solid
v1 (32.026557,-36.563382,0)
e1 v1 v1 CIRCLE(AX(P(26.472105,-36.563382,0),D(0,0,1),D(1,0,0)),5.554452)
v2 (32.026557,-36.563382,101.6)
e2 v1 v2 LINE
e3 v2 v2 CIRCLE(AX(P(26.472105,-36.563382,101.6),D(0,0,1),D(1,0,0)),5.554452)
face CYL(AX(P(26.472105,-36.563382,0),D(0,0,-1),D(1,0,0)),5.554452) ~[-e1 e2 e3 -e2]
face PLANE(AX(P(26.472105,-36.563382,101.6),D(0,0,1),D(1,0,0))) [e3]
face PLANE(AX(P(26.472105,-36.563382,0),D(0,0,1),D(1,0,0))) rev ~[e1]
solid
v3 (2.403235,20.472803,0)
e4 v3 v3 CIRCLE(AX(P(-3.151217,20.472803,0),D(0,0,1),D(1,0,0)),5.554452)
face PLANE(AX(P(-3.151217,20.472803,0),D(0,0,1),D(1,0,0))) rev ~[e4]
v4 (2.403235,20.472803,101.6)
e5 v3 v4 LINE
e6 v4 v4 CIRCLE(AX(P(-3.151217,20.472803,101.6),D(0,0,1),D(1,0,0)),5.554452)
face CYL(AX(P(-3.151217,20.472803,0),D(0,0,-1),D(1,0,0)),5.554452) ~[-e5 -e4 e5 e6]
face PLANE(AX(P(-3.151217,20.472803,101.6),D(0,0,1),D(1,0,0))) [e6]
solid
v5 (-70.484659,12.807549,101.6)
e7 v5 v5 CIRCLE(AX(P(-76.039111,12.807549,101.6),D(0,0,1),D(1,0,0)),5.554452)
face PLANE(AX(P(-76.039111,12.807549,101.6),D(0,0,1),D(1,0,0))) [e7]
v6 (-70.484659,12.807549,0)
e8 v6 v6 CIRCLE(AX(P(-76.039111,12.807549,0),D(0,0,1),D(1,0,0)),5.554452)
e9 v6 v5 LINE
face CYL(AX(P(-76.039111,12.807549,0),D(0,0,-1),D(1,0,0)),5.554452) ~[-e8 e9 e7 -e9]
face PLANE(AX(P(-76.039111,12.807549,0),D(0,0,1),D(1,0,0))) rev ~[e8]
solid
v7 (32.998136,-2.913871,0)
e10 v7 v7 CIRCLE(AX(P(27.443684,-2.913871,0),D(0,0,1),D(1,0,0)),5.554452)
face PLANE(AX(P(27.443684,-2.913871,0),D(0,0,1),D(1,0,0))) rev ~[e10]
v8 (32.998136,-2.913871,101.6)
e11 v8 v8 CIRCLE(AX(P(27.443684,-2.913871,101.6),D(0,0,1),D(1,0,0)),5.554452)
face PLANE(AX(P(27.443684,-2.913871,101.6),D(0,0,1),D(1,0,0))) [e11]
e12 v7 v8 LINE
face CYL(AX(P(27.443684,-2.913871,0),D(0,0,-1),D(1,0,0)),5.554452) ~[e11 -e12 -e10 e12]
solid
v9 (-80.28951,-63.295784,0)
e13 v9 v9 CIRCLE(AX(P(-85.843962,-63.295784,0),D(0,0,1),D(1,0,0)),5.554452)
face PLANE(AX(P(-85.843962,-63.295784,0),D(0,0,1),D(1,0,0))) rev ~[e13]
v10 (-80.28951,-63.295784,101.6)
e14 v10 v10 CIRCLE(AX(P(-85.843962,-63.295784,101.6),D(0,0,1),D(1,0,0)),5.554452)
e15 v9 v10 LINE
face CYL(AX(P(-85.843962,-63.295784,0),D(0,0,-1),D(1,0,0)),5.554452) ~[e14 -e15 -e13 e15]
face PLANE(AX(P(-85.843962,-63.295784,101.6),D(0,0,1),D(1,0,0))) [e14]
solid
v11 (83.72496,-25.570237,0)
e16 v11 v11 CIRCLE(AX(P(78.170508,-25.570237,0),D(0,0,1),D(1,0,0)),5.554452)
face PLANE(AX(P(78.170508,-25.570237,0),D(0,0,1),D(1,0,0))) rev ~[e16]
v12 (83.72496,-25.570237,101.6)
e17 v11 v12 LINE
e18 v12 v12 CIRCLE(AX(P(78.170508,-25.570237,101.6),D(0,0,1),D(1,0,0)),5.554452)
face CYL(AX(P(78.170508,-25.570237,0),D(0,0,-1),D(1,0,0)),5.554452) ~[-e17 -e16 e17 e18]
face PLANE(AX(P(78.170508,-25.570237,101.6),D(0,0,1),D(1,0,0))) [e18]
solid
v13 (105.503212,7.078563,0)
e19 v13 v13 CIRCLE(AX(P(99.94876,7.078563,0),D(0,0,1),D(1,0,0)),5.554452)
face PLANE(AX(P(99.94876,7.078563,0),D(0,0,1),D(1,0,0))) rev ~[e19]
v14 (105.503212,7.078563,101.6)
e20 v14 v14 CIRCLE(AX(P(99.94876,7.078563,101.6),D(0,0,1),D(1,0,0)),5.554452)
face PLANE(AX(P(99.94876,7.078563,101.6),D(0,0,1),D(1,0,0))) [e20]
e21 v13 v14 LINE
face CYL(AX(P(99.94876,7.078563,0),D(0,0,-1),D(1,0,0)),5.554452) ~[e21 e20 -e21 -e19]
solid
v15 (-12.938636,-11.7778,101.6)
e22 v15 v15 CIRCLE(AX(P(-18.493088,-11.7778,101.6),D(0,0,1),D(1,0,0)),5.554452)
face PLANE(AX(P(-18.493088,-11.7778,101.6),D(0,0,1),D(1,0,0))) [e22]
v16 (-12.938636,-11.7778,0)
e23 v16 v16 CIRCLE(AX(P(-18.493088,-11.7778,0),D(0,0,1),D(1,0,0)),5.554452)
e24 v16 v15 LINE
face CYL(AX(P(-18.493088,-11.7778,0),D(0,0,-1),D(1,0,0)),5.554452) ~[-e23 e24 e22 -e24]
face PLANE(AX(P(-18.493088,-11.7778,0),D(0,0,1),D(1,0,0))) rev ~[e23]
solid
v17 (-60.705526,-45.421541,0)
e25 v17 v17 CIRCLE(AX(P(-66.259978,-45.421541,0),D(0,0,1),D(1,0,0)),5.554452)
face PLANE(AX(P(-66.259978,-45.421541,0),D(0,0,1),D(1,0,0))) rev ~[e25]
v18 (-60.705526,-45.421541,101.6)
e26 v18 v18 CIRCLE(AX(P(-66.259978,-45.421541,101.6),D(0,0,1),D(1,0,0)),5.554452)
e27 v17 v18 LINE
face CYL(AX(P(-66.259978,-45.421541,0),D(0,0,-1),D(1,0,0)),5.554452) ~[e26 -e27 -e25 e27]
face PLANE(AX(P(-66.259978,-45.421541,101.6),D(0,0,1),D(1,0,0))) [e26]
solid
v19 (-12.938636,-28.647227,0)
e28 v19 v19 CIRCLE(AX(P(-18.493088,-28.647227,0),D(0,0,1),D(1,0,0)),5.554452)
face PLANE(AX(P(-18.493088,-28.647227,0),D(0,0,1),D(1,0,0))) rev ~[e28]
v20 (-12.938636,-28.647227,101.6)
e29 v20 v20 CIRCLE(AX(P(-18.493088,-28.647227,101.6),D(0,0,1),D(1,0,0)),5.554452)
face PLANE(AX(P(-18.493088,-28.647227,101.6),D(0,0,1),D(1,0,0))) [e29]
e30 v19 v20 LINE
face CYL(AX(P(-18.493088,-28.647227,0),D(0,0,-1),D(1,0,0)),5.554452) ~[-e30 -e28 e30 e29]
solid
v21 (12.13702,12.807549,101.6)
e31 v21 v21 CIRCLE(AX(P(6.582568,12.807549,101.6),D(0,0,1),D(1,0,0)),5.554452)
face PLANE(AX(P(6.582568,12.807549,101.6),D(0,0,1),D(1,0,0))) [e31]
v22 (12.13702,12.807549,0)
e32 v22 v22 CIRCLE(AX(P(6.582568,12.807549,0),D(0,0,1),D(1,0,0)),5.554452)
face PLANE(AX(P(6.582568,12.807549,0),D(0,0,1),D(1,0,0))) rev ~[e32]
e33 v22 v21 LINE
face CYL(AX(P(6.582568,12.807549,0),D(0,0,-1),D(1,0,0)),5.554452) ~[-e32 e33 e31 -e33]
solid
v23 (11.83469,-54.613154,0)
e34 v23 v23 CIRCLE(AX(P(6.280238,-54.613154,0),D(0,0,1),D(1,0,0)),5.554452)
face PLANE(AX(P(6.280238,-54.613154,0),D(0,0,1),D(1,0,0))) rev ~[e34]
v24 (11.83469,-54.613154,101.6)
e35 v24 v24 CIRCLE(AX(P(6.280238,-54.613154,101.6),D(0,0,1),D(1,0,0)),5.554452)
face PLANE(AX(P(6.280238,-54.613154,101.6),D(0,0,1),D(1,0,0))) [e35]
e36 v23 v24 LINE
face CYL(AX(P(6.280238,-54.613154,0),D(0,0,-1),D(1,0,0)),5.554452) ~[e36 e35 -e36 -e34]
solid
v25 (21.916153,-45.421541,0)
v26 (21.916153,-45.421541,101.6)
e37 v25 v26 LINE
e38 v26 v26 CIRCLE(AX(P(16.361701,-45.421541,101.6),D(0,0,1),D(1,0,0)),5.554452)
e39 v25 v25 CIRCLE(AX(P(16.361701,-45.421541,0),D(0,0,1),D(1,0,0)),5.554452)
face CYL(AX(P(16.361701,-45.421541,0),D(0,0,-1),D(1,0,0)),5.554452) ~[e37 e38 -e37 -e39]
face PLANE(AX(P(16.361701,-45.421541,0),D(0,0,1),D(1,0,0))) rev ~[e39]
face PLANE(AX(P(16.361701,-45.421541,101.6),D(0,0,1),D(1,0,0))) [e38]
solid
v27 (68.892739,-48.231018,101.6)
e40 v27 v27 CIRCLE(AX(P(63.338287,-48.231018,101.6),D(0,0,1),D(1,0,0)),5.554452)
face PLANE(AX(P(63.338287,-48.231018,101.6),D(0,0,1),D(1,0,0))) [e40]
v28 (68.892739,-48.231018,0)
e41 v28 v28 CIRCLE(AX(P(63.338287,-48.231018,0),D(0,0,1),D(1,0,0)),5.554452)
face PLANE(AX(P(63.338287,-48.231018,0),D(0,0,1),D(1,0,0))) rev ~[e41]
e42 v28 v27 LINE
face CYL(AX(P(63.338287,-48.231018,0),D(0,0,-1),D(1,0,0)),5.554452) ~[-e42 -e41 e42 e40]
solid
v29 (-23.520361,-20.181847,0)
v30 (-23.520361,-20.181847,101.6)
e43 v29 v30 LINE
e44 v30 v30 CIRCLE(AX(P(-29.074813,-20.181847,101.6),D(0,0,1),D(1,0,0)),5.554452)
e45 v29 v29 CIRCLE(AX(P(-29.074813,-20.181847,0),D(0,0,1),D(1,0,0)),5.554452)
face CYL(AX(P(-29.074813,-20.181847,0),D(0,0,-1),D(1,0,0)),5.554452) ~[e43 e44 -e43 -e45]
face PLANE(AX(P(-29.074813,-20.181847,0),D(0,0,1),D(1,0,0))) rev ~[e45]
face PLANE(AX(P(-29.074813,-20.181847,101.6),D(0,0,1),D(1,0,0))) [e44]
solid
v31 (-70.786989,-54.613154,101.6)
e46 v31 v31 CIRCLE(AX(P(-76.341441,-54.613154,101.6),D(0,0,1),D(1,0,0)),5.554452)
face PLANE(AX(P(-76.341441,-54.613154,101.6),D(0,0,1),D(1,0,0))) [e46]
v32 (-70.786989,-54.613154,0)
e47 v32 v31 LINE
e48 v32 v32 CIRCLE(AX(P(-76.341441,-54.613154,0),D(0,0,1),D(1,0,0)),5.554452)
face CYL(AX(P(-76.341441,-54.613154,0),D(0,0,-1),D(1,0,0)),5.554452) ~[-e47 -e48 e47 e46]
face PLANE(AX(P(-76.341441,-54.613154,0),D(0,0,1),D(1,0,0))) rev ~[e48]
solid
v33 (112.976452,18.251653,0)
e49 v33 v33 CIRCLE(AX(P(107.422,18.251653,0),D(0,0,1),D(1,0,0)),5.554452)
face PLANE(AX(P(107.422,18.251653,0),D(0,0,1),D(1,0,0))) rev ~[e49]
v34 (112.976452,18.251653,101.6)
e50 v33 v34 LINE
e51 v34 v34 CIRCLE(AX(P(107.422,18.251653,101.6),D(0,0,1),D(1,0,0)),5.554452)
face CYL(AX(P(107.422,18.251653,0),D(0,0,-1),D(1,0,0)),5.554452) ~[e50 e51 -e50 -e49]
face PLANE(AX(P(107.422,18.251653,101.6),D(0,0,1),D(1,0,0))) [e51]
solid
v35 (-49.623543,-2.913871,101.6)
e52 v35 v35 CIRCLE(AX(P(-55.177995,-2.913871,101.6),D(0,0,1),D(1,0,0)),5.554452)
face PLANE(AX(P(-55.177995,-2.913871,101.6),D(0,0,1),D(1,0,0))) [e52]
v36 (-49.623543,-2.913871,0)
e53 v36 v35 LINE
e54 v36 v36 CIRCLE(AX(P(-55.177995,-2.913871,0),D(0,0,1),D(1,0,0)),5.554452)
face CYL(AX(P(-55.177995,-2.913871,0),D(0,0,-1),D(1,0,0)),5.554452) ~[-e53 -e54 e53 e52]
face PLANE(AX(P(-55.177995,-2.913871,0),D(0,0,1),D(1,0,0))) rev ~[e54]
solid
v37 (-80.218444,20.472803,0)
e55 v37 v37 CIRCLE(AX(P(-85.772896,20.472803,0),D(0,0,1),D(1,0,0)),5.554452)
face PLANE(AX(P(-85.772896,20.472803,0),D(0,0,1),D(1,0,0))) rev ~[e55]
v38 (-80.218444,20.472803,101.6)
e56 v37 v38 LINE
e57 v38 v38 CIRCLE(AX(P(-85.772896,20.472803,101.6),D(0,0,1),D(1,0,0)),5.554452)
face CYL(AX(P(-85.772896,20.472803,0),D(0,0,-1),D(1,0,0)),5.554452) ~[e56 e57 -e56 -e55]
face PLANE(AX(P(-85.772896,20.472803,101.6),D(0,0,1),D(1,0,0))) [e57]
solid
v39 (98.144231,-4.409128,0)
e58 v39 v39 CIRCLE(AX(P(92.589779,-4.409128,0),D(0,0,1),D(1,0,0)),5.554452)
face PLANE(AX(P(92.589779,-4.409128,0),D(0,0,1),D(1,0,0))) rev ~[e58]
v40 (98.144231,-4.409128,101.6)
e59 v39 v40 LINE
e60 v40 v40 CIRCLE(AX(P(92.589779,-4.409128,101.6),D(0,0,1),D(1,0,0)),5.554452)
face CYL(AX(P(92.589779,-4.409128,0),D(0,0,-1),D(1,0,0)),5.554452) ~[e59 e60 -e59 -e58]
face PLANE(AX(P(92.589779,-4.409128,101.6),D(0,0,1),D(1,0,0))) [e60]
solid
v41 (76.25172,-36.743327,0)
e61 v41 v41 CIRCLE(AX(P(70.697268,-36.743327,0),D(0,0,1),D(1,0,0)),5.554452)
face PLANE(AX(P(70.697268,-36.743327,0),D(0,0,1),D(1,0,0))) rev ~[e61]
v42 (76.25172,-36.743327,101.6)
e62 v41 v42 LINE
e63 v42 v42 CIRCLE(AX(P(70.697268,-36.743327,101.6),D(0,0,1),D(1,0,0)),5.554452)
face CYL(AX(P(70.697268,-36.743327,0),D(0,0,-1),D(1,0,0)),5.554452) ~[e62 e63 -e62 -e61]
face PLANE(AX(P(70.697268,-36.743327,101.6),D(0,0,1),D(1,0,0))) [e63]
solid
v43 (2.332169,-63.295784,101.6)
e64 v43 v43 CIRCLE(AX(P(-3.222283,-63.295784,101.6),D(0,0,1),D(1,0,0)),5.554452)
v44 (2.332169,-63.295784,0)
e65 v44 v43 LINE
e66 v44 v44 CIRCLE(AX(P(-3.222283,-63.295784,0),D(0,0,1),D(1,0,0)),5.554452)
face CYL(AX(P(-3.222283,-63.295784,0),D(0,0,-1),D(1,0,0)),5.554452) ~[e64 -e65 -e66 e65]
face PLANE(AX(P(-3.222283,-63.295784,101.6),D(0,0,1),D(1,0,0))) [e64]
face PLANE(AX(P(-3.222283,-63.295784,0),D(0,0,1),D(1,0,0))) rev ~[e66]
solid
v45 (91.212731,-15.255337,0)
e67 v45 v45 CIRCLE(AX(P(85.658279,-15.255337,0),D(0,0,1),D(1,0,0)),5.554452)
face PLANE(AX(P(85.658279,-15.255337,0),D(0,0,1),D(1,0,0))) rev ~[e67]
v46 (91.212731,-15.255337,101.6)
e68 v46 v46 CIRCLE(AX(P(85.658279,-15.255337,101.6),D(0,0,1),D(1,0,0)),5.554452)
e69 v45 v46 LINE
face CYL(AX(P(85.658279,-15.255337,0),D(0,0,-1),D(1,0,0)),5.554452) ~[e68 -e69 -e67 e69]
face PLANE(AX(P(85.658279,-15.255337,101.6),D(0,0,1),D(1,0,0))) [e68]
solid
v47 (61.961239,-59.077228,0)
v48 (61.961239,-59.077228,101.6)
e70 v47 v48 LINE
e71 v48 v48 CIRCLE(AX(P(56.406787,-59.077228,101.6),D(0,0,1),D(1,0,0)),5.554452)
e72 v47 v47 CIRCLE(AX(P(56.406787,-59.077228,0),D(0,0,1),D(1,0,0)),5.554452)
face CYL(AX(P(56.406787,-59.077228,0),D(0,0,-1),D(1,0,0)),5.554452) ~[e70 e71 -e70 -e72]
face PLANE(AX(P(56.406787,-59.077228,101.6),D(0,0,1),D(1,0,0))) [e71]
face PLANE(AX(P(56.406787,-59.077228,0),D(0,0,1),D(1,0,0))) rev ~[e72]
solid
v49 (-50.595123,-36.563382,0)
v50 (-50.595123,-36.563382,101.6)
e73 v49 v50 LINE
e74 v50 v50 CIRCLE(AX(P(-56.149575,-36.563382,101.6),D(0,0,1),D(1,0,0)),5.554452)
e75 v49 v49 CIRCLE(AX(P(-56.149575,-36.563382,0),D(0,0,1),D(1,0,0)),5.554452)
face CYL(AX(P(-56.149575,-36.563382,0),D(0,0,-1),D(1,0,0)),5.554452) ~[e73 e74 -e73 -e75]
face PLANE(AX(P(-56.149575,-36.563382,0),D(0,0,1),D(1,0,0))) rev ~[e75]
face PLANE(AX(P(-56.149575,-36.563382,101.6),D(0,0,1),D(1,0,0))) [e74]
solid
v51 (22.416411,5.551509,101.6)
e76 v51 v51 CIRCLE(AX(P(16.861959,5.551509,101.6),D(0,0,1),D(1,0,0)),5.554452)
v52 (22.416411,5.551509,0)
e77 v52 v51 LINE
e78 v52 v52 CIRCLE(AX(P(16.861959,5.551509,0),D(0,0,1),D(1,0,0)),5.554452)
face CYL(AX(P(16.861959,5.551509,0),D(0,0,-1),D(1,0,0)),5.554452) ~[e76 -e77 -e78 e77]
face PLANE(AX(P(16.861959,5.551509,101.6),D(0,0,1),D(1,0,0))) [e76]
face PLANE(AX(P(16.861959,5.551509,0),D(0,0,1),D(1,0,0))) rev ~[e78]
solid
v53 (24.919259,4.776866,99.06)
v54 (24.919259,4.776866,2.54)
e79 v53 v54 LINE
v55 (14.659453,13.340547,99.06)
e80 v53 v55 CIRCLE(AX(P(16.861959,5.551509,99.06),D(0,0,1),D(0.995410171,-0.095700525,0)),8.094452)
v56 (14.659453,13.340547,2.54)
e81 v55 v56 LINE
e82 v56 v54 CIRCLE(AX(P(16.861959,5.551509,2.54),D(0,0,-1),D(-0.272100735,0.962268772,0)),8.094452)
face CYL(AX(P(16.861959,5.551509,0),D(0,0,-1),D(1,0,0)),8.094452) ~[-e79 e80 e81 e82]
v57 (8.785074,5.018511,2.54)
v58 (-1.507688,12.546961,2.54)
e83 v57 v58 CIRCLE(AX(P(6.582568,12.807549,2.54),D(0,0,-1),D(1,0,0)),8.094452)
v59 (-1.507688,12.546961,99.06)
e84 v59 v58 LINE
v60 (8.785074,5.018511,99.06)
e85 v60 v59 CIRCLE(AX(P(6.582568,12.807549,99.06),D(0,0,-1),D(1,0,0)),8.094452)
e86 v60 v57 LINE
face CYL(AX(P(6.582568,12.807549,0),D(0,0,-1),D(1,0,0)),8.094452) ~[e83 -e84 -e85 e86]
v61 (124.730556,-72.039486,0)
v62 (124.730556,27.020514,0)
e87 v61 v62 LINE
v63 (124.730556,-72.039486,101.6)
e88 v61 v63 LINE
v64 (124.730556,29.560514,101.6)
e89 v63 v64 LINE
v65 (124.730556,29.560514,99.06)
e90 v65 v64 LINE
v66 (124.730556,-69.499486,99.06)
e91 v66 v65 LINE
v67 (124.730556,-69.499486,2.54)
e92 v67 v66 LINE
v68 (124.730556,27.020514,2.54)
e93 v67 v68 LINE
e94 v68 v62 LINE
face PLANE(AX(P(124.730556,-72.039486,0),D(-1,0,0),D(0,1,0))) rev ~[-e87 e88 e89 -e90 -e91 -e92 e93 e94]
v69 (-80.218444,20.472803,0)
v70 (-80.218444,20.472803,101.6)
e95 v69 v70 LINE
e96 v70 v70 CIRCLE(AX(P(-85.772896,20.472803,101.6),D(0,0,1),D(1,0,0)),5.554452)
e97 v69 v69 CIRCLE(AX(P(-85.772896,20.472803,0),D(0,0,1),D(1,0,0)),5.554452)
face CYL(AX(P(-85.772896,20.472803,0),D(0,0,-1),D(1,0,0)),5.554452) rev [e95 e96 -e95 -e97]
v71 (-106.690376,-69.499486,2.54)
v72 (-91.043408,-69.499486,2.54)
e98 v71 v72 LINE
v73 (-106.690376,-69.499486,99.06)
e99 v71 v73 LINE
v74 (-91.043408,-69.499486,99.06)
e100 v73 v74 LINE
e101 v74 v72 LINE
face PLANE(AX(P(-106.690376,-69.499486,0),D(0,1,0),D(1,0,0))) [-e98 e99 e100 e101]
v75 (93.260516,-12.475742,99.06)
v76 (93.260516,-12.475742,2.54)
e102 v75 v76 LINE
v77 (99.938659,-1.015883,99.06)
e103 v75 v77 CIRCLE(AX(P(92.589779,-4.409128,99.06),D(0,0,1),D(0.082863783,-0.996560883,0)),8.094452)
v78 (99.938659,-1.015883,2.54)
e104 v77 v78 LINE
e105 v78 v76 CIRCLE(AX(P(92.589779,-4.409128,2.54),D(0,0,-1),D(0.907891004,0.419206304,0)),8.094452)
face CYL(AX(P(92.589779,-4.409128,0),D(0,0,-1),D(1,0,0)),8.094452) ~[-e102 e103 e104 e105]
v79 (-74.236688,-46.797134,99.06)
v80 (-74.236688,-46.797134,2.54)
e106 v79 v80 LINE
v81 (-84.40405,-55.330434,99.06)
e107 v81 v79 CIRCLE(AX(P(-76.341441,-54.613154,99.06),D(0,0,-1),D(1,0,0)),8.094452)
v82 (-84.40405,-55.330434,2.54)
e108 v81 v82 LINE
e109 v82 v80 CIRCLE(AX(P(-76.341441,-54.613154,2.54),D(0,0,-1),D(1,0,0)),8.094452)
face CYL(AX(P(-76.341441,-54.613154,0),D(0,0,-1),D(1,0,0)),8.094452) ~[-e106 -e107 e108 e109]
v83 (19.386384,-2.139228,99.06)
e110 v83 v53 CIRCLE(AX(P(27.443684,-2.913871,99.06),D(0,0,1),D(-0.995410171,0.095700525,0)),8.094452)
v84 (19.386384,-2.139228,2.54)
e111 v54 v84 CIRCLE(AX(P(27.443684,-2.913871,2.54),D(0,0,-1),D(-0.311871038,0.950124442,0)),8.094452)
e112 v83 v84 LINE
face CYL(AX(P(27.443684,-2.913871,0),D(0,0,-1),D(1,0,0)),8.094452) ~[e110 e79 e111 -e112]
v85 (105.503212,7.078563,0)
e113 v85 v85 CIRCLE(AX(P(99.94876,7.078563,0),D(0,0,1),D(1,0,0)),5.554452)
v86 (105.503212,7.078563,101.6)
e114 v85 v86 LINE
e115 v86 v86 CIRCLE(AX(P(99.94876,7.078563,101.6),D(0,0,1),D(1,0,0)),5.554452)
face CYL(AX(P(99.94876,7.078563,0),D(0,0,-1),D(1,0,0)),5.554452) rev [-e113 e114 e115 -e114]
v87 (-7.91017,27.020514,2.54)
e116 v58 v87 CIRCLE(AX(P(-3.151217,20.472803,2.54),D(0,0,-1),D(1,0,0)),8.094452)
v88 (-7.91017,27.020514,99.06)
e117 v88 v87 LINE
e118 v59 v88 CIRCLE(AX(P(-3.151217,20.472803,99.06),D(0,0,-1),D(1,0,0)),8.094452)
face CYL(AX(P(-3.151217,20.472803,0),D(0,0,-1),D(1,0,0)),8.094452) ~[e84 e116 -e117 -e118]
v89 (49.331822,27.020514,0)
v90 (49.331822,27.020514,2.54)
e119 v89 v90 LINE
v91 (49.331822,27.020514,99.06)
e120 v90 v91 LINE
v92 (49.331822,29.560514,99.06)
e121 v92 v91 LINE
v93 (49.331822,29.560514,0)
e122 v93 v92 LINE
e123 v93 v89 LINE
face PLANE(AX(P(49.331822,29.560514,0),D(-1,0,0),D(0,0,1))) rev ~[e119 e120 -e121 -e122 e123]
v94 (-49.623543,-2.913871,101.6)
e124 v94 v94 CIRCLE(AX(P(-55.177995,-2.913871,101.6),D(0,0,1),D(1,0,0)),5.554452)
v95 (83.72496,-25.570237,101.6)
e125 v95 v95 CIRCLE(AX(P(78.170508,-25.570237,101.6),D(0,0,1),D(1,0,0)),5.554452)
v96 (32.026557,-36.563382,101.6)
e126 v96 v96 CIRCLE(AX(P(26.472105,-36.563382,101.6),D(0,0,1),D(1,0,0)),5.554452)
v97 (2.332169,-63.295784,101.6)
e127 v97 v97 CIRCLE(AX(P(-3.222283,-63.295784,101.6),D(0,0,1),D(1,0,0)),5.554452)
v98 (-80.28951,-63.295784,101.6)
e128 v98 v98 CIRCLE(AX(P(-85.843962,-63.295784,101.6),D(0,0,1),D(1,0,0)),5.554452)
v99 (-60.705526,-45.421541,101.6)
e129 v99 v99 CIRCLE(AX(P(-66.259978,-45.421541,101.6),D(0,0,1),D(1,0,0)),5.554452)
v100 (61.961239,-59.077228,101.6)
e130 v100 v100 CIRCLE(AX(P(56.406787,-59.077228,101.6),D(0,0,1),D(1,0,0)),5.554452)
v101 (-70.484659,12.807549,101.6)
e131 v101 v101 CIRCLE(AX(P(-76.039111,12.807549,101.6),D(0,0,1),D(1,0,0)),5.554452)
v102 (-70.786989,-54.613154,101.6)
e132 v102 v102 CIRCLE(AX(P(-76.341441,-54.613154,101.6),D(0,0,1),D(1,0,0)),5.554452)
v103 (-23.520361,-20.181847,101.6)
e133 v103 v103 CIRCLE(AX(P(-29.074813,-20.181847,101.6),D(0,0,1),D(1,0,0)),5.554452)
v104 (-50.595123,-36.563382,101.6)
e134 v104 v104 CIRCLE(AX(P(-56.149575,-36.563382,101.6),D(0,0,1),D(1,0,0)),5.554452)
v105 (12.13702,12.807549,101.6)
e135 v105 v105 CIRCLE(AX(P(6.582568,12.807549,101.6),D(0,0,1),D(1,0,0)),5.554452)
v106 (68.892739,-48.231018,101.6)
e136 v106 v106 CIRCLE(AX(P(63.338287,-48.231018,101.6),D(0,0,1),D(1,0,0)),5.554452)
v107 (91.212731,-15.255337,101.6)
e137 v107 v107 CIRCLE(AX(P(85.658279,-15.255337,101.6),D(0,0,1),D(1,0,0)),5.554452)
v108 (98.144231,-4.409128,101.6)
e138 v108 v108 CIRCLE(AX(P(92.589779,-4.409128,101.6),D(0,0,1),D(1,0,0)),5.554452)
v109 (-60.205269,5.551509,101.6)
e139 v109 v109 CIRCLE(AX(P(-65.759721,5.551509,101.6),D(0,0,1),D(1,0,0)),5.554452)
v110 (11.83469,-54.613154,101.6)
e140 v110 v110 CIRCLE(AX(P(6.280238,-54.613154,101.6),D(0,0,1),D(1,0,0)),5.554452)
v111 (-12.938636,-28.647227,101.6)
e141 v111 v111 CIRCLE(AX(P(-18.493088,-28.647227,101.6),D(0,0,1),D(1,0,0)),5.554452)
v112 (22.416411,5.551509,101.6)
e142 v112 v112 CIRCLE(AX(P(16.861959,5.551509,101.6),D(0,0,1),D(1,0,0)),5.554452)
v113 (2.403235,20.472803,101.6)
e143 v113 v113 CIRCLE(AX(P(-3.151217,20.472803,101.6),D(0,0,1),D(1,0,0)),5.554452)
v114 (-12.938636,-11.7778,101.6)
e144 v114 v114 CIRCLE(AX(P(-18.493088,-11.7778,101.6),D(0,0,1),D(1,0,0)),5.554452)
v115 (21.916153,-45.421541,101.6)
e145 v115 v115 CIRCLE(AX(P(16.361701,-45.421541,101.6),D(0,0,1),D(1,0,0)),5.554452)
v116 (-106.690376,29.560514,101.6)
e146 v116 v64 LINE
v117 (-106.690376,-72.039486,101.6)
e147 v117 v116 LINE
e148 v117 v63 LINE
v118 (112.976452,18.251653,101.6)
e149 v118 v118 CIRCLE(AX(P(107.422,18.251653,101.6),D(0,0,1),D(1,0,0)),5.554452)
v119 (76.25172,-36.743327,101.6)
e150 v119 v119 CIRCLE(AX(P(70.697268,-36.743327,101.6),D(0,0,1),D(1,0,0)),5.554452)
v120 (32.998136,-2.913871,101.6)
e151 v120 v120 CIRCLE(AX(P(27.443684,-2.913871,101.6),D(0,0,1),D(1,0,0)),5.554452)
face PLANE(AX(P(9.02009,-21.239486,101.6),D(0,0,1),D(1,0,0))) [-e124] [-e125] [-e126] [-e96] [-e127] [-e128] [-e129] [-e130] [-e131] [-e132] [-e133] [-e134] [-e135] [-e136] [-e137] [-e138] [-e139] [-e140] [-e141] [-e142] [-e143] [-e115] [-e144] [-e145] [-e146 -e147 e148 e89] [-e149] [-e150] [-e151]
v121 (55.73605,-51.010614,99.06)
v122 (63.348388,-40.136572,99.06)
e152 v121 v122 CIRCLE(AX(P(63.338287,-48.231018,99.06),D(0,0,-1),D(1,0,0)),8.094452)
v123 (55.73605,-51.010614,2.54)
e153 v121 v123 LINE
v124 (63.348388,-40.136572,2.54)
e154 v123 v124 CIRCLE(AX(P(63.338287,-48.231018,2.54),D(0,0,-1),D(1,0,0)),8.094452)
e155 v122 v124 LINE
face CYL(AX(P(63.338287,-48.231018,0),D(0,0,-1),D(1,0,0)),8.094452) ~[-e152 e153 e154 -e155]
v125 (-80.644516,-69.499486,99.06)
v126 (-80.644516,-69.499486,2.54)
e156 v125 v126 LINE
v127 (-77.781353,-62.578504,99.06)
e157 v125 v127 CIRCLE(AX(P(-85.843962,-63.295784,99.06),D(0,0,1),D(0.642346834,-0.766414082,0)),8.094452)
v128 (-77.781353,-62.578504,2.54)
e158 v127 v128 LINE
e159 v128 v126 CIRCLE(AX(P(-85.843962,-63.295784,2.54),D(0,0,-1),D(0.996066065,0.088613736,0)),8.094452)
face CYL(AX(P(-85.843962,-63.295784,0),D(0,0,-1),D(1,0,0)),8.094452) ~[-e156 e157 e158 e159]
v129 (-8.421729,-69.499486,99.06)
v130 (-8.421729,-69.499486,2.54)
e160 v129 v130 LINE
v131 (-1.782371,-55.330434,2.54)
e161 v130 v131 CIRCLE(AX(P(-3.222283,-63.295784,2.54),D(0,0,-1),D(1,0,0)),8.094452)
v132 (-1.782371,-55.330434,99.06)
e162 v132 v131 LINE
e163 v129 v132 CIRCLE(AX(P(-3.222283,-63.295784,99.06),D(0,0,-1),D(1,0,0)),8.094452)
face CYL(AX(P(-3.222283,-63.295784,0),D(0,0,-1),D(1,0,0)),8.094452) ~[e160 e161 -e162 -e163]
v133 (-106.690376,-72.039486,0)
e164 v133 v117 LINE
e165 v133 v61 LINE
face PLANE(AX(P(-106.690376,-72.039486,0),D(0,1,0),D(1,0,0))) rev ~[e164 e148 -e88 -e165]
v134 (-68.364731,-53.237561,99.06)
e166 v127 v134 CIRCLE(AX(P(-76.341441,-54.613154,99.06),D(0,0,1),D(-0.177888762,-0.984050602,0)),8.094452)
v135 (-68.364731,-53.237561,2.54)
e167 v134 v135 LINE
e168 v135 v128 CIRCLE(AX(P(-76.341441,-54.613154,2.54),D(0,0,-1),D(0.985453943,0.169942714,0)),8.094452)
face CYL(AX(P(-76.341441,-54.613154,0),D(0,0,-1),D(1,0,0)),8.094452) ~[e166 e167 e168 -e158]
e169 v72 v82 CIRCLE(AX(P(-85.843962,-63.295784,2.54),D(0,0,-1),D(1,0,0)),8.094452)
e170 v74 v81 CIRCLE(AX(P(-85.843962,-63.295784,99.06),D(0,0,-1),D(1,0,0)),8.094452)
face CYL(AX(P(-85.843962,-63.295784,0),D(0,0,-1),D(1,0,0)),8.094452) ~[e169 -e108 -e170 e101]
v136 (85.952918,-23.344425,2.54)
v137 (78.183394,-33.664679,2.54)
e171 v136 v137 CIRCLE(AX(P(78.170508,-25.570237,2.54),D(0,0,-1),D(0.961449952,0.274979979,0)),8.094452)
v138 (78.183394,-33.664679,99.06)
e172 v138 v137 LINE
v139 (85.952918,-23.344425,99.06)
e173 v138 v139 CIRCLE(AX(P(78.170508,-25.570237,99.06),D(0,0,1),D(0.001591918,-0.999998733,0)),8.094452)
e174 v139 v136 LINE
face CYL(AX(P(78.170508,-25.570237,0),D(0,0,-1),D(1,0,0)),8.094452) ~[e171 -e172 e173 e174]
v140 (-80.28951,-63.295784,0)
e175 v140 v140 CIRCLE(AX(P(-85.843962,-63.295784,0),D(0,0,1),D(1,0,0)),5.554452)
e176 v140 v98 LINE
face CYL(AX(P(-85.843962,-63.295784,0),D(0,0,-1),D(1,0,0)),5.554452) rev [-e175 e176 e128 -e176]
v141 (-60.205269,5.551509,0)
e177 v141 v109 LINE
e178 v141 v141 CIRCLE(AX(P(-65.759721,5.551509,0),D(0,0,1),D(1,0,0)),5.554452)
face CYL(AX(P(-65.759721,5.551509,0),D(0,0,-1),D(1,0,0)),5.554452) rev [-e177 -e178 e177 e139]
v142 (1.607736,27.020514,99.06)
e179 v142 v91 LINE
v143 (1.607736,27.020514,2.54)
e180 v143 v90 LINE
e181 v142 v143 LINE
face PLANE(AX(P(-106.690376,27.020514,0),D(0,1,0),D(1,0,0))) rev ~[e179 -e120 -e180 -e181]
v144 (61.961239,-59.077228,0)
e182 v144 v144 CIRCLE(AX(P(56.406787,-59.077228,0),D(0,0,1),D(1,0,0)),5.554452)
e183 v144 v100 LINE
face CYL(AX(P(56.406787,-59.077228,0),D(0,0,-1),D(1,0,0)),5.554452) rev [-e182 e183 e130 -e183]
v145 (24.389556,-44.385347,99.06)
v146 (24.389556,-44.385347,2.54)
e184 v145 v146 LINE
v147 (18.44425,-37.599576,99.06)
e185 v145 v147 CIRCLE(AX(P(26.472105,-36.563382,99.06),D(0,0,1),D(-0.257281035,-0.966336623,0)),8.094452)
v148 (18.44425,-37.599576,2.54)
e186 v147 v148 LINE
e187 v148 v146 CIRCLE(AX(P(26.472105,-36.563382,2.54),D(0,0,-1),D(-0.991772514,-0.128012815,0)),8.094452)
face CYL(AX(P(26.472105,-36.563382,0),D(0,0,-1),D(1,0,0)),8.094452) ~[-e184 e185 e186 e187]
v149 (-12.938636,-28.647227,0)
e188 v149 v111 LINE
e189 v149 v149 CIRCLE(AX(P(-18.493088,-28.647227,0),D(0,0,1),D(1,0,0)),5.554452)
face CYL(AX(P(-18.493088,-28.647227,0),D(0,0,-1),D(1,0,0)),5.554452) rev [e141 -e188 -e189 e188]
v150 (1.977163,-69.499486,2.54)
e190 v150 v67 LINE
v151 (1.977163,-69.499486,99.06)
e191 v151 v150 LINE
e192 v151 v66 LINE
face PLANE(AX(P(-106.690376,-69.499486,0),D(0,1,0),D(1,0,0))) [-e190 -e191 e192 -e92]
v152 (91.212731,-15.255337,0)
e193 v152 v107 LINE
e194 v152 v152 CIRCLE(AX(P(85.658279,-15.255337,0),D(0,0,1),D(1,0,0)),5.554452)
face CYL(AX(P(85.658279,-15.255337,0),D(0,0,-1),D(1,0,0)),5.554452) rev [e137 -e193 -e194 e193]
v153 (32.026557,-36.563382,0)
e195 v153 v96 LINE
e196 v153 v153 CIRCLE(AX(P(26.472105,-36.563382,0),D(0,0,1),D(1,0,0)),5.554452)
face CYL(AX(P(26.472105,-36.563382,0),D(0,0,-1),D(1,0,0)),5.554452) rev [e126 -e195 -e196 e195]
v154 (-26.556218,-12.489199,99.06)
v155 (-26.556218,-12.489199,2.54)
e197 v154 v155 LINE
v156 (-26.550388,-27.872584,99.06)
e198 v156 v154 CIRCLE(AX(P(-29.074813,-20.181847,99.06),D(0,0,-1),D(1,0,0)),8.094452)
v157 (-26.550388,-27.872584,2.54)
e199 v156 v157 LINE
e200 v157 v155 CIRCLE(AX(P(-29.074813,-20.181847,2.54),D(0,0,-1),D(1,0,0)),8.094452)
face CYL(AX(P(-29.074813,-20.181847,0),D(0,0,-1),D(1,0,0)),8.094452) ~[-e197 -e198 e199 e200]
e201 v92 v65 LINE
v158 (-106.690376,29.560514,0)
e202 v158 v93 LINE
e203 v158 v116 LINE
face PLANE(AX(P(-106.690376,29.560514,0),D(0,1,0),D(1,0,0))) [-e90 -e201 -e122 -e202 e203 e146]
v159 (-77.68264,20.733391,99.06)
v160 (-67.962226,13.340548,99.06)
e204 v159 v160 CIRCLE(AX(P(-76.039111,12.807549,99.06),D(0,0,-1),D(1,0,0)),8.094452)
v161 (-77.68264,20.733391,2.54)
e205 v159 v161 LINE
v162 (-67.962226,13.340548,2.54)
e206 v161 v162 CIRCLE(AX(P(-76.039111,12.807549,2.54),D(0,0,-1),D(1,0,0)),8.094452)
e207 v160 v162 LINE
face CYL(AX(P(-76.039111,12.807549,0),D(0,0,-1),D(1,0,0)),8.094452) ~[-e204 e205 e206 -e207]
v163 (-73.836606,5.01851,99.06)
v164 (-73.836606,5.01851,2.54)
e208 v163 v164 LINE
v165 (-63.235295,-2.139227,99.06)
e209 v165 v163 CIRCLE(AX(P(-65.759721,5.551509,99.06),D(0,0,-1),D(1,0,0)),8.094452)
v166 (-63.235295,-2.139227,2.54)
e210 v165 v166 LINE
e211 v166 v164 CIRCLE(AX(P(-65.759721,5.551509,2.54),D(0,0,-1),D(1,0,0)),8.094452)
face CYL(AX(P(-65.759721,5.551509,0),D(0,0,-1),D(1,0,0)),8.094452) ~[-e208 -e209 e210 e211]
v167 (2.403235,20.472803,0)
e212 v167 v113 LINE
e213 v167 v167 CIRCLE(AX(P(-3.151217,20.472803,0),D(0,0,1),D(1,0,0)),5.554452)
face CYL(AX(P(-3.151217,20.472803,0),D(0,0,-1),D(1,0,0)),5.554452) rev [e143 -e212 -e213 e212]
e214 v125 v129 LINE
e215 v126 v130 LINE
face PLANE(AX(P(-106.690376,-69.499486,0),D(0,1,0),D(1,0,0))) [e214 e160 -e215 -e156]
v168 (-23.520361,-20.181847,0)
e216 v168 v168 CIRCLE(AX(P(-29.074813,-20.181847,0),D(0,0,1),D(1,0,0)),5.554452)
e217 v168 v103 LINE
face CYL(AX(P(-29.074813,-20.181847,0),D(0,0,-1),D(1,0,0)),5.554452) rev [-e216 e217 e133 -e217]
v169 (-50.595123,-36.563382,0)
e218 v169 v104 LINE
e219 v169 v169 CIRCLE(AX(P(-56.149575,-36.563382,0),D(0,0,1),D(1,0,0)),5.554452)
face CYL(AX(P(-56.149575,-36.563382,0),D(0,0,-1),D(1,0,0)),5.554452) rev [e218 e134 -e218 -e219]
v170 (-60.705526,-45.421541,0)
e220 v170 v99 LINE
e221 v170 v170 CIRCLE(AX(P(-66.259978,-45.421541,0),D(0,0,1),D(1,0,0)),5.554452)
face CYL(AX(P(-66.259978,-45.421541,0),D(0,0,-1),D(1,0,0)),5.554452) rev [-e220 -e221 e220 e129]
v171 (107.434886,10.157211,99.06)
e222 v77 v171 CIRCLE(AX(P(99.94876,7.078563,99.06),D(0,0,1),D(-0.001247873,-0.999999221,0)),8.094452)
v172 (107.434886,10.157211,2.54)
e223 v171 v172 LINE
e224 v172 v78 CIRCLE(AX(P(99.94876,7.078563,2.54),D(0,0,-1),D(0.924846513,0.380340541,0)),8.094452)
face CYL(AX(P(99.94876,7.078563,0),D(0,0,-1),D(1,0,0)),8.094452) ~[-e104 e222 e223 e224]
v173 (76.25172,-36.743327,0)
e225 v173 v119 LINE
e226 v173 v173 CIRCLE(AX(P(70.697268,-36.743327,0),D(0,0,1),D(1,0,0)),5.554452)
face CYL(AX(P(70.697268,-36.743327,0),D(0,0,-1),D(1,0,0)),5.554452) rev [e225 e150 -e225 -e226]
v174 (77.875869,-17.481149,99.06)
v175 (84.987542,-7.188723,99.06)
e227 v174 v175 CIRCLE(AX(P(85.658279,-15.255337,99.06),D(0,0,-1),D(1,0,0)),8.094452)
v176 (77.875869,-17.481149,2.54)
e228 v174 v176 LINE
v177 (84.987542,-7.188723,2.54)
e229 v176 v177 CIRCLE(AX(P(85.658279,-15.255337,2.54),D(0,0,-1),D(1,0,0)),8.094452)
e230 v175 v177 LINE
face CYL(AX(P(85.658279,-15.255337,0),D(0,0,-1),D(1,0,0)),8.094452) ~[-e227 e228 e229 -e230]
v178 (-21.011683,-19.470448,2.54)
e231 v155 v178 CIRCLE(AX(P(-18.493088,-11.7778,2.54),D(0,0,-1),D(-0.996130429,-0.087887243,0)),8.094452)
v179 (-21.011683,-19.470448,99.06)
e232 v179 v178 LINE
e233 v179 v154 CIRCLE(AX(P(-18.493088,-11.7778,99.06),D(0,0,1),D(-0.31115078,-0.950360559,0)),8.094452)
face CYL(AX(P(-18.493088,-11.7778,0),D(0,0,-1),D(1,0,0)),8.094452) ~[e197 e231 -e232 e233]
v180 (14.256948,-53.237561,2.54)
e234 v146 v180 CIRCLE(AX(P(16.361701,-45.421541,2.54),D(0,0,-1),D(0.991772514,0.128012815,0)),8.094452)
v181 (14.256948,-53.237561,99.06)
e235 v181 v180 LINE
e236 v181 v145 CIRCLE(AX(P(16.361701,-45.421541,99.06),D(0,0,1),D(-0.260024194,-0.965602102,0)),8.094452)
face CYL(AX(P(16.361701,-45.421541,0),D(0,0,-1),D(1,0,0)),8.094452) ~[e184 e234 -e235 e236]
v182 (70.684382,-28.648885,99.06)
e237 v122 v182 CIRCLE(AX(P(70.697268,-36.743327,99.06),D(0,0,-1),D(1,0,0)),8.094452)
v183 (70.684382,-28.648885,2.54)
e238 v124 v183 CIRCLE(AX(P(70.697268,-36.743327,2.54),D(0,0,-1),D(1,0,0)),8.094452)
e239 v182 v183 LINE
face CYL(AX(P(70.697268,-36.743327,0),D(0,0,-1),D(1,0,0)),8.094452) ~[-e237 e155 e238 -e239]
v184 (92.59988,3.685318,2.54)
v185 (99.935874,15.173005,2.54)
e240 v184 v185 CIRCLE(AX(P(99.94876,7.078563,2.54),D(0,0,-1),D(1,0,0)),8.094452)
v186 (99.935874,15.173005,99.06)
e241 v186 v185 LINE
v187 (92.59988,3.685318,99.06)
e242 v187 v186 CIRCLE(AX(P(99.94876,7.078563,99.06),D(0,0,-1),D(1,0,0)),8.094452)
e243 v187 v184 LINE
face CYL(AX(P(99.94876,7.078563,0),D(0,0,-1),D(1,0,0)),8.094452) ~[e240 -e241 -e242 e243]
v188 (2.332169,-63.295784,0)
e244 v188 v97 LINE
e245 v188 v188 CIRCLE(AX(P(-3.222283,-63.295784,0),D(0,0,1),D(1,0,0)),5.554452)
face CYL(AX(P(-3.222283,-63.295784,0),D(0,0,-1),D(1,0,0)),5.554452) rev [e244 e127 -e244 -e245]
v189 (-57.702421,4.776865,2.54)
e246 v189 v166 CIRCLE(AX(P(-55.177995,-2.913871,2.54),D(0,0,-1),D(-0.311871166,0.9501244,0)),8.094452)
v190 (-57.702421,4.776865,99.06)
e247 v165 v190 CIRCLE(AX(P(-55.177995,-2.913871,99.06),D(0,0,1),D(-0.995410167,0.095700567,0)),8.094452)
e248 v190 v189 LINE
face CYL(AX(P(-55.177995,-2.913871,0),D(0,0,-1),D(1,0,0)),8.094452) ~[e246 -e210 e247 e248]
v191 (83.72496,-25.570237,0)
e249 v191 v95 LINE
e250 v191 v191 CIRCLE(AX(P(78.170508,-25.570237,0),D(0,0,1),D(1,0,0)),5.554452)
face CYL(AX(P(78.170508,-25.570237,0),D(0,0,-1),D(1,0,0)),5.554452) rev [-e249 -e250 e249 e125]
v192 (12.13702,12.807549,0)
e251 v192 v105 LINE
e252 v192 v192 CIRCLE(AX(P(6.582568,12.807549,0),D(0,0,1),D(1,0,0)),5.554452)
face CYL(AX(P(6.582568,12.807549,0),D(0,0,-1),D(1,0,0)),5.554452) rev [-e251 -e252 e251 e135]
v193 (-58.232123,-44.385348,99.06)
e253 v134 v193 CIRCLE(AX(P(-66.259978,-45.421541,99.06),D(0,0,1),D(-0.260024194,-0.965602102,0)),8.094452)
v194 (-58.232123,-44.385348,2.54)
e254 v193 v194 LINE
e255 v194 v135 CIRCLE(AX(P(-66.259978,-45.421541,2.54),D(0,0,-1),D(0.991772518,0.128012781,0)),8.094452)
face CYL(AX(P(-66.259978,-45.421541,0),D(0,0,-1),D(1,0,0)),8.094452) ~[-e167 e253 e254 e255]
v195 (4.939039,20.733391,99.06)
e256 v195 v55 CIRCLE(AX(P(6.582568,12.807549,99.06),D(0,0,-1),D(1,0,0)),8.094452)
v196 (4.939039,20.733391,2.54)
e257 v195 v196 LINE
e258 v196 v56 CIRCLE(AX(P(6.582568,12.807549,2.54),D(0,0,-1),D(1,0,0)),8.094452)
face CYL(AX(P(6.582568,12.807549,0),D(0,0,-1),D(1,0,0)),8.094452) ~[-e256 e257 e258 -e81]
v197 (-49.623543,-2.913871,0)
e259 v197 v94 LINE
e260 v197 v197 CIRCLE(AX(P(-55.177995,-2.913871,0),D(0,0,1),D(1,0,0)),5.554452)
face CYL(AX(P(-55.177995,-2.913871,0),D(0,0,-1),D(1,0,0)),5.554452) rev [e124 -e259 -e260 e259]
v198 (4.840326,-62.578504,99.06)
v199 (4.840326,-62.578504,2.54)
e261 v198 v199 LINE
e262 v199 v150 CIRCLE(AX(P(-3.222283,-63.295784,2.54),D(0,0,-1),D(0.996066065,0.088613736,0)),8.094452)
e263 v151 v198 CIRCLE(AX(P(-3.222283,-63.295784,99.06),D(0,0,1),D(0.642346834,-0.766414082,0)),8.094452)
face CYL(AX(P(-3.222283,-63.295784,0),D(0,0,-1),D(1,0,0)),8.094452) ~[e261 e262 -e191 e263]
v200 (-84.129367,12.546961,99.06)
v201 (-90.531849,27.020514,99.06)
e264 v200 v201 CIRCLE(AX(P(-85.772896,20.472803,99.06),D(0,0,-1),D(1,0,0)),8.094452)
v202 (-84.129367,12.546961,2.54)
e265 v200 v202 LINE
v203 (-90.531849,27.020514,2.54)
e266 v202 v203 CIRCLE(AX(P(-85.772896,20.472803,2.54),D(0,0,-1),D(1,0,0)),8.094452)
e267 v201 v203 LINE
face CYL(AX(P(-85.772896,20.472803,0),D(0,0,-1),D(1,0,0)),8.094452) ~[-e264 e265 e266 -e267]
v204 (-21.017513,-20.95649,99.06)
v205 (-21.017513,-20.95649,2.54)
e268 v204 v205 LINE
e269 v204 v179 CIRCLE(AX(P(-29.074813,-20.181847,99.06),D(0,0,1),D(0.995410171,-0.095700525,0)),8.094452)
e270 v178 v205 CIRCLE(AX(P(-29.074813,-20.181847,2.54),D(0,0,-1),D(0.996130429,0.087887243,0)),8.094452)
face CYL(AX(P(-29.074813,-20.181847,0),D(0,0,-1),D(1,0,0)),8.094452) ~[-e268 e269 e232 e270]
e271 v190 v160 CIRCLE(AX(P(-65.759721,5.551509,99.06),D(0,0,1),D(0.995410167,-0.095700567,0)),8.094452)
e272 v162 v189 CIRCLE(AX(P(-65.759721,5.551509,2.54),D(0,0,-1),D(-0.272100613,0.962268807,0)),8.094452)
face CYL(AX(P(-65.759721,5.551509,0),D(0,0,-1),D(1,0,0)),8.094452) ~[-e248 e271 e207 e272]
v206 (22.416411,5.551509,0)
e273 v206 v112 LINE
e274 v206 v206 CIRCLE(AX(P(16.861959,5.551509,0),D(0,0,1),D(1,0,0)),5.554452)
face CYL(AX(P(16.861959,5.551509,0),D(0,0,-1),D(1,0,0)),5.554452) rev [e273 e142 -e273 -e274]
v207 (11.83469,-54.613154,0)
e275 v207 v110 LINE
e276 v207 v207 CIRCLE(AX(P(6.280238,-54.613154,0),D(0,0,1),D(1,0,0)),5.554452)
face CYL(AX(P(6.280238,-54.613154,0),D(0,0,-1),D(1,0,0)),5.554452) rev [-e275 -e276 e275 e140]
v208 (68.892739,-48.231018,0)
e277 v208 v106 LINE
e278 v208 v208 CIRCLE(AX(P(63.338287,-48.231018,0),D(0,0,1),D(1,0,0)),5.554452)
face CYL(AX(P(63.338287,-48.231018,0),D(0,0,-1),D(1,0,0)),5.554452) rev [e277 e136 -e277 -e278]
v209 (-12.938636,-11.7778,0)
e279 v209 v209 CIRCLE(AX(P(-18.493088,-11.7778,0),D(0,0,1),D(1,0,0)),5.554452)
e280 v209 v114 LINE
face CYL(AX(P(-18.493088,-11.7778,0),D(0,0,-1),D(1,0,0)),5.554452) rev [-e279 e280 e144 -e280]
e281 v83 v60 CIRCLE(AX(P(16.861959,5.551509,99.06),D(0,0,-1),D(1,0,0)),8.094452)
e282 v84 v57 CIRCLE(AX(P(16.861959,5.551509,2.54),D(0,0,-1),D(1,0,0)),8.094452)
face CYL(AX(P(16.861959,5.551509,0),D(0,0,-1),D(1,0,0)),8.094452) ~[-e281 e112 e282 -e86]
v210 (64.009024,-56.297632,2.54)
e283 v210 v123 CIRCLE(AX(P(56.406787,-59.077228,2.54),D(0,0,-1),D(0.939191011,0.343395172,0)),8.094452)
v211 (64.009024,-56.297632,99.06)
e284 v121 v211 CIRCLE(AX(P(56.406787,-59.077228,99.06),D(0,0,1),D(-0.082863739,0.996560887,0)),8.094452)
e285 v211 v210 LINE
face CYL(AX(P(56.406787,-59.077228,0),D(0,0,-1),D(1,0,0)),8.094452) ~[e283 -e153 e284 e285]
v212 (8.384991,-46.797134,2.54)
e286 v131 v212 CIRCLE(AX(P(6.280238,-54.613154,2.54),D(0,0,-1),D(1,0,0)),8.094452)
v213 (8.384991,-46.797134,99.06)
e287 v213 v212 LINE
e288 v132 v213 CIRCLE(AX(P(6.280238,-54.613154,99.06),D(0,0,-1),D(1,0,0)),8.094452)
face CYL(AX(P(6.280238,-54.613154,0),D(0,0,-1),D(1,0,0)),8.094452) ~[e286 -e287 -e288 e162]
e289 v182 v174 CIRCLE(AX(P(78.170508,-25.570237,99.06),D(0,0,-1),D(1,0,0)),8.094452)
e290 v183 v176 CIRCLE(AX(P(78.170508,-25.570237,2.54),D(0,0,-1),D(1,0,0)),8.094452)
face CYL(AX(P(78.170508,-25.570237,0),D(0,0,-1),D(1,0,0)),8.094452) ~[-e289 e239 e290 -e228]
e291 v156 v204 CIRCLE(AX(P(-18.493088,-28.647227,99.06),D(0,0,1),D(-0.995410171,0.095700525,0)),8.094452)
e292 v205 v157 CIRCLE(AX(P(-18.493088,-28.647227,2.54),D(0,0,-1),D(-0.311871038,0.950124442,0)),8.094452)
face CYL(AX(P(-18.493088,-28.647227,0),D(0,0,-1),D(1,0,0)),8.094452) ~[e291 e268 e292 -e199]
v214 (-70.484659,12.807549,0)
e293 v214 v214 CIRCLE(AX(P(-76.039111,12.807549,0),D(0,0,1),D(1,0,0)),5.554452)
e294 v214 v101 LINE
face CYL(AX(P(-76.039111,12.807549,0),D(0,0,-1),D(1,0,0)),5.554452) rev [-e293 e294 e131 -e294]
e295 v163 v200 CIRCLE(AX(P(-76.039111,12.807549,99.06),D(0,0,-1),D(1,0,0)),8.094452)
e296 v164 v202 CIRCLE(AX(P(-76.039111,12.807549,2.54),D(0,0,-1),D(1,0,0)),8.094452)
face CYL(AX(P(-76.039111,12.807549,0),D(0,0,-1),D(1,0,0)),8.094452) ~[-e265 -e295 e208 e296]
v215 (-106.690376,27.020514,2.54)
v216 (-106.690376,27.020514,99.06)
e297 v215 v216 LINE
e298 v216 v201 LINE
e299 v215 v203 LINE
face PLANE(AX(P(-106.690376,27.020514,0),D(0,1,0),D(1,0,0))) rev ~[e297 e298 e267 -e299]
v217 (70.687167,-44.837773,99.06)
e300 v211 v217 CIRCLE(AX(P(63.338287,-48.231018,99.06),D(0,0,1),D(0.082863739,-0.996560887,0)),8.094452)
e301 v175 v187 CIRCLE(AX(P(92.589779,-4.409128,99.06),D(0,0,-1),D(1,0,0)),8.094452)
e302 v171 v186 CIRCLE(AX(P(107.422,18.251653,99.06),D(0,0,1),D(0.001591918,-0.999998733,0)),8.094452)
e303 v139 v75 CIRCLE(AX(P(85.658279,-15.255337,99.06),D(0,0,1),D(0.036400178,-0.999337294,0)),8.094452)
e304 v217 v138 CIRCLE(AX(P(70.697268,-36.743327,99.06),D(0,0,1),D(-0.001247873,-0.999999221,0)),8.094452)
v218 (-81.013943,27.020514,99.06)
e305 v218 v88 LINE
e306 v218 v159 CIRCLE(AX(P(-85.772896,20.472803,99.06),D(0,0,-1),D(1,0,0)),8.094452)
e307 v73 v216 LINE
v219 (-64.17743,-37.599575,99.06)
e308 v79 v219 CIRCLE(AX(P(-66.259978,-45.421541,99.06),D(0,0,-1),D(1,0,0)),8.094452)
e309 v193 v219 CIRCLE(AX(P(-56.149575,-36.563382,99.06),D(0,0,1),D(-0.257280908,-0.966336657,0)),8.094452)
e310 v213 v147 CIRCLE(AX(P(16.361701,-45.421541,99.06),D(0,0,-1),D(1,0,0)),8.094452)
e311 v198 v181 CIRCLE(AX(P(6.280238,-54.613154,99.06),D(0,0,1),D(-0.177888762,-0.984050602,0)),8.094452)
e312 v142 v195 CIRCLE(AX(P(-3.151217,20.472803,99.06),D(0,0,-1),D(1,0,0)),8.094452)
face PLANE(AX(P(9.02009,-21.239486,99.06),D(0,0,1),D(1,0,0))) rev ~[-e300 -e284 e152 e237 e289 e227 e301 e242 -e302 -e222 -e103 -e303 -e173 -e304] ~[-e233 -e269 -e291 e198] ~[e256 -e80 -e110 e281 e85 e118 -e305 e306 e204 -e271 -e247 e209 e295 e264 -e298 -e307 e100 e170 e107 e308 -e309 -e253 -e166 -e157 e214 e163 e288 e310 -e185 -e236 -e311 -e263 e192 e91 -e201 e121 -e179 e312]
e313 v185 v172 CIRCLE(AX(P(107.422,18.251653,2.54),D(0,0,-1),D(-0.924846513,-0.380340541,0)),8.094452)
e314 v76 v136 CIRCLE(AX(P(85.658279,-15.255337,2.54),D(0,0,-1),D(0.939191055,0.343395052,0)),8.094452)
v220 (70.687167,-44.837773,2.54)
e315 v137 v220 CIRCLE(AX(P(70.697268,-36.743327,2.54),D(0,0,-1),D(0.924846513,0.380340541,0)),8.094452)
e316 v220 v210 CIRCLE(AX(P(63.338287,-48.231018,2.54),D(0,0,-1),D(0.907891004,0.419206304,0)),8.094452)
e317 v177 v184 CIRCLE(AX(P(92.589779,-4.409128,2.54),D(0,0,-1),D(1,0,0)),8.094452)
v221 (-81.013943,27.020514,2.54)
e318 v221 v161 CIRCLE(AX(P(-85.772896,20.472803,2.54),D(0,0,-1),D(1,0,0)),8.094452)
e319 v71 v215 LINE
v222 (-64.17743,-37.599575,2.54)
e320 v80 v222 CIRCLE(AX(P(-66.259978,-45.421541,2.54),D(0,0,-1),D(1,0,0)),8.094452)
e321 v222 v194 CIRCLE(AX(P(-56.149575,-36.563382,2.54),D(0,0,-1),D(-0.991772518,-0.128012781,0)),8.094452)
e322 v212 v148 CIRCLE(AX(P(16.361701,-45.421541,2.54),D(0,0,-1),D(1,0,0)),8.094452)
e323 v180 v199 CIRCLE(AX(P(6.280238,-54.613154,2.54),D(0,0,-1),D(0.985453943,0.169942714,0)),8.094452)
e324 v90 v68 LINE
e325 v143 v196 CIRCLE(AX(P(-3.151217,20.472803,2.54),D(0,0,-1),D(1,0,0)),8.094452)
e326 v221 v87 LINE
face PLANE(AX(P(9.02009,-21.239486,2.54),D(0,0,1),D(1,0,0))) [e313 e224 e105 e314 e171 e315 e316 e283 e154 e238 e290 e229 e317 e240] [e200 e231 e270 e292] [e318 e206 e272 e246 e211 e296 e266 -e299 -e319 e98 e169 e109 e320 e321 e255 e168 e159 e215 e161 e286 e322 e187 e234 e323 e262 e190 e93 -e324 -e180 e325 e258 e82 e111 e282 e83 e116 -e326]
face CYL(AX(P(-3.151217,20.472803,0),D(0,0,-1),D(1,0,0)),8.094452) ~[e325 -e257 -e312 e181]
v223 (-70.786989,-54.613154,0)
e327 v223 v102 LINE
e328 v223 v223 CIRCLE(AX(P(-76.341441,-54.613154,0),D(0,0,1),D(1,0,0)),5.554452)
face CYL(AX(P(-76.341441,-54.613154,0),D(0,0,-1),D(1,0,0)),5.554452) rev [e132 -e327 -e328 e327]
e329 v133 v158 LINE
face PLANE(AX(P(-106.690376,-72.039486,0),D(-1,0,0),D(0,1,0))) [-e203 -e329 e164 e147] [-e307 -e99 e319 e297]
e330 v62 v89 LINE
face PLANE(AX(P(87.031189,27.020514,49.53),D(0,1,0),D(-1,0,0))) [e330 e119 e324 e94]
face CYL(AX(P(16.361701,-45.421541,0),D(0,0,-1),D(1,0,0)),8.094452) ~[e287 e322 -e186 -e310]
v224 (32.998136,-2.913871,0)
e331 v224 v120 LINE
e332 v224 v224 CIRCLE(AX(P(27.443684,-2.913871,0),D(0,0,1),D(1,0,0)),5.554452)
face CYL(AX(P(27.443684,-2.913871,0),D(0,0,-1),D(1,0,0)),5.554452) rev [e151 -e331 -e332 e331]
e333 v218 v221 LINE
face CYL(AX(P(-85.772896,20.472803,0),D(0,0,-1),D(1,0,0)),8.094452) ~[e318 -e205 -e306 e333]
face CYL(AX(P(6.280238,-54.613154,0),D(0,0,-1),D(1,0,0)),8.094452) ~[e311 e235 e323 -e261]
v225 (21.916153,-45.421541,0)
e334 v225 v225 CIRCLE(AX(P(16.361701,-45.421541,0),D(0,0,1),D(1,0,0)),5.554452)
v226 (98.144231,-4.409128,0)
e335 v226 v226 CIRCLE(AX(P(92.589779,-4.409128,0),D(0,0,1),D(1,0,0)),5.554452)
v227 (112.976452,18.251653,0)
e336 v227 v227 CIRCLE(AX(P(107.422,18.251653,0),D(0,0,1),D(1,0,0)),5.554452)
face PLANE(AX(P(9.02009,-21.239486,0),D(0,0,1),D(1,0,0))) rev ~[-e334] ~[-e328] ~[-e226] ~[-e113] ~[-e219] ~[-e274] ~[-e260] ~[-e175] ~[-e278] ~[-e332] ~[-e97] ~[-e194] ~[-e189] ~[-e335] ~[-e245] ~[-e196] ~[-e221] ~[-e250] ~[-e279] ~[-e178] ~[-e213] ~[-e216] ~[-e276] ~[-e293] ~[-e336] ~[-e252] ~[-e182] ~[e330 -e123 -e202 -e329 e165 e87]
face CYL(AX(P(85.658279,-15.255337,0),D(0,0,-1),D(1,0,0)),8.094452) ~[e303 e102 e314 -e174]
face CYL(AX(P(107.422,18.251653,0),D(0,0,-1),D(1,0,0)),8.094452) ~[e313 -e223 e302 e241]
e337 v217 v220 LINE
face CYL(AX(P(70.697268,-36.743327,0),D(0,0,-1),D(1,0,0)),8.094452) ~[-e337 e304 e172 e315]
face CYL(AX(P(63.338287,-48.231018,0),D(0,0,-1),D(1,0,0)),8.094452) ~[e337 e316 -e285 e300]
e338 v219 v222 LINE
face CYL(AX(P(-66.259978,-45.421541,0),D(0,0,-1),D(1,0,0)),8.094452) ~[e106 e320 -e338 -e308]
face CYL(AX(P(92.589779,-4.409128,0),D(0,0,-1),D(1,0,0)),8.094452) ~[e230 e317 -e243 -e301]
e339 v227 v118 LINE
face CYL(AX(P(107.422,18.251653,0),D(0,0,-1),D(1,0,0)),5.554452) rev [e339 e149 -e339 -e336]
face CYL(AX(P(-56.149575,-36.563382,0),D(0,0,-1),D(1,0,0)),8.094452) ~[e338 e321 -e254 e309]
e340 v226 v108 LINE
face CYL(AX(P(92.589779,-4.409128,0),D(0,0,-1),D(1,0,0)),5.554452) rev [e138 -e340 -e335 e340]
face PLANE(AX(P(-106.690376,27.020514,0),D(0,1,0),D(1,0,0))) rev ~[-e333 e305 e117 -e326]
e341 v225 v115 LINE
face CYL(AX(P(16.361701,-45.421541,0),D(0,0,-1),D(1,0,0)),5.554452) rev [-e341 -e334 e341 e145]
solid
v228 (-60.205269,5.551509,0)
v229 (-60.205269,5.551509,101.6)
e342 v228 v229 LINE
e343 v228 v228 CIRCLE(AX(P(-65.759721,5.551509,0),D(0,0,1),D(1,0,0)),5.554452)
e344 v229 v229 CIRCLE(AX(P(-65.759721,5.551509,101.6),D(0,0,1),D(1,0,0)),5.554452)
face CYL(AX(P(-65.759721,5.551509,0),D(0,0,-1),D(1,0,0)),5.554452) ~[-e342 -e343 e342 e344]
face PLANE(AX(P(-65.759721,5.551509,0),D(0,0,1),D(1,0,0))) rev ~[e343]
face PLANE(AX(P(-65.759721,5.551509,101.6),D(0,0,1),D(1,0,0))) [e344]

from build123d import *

# Parameters (mm, degrees)
F0_R     = 5.554452
F1_DEPTH = 101.6
F0_W     = 231.420932
F0_H     = 101.6
F3_DEPTH = 101.6
F4_T     = -2.54
F6_DEPTH = 2.54


with BuildPart() as f1:
    # F0 (on Top) → F1 (new body)
    with BuildSketch(Plane.XY):
        with Locations((-85.772896, 20.472803)):
            Circle(F0_R)
        with Locations((-76.039111, 12.807549)):
            Circle(F0_R)
        with Locations((-65.759721, 5.551509)):
            Circle(F0_R)
        with Locations((-55.177995, -2.913871)):
            Circle(F0_R)
        with Locations((-85.843962, -63.295784)):
            Circle(F0_R)
        with Locations((-76.341441, -54.613154)):
            Circle(F0_R)
        with Locations((-66.259978, -45.421541)):
            Circle(F0_R)
        with Locations((-56.149575, -36.563382)):
            Circle(F0_R)
        with Locations((-29.074813, -20.181847)):
            Circle(F0_R)
        with Locations((-18.493088, -11.7778)):
            Circle(F0_R)
        with Locations((-18.493088, -28.647227)):
            Circle(F0_R)
        with Locations((-3.222283, -63.295784)):
            Circle(F0_R)
        with Locations((6.280238, -54.613154)):
            Circle(F0_R)
        with Locations((16.361701, -45.421541)):
            Circle(F0_R)
        with Locations((26.472105, -36.563382)):
            Circle(F0_R)
        with Locations((27.443684, -2.913871)):
            Circle(F0_R)
        with Locations((16.861959, 5.551509)):
            Circle(F0_R)
        with Locations((6.582568, 12.807549)):
            Circle(F0_R)
        with Locations((-3.151217, 20.472803)):
            Circle(F0_R)
        with Locations((56.406787, -59.077228)):
            Circle(F0_R)
        with Locations((63.338287, -48.231018)):
            Circle(F0_R)
        with Locations((70.697268, -36.743327)):
            Circle(F0_R)
        with Locations((78.170508, -25.570237)):
            Circle(F0_R)
        with Locations((85.658279, -15.255337)):
            Circle(F0_R)
        with Locations((92.589779, -4.409128)):
            Circle(F0_R)
        with Locations((99.94876, 7.078563)):
            Circle(F0_R)
        with Locations((107.422, 18.251653)):
            Circle(F0_R)
    extrude(amount=F1_DEPTH)


with BuildPart() as f3:
    # F0 (on Top) → F3 (new body)
    with BuildSketch(Plane.XY):
        with Locations((9.02009, -21.239486)):
            Rectangle(F0_W, F0_H)
        with Locations((-85.843962, -63.295784)):
            Circle(F0_R, mode=Mode.SUBTRACT)
        with Locations((-76.341441, -54.613154)):
            Circle(F0_R, mode=Mode.SUBTRACT)
        with Locations((-3.222283, -63.295784)):
            Circle(F0_R, mode=Mode.SUBTRACT)
        with Locations((6.280238, -54.613154)):
            Circle(F0_R, mode=Mode.SUBTRACT)
        with Locations((-66.259978, -45.421541)):
            Circle(F0_R, mode=Mode.SUBTRACT)
        with Locations((-56.149575, -36.563382)):
            Circle(F0_R, mode=Mode.SUBTRACT)
        with Locations((-18.493088, -28.647227)):
            Circle(F0_R, mode=Mode.SUBTRACT)
        with Locations((56.406787, -59.077228)):
            Circle(F0_R, mode=Mode.SUBTRACT)
        with Locations((63.338287, -48.231018)):
            Circle(F0_R, mode=Mode.SUBTRACT)
        with Locations((16.361701, -45.421541)):
            Circle(F0_R, mode=Mode.SUBTRACT)
        with Locations((26.472105, -36.563382)):
            Circle(F0_R, mode=Mode.SUBTRACT)
        with Locations((70.697268, -36.743327)):
            Circle(F0_R, mode=Mode.SUBTRACT)
        with Locations((78.170508, -25.570237)):
            Circle(F0_R, mode=Mode.SUBTRACT)
        with Locations((-55.177995, -2.913871)):
            Circle(F0_R, mode=Mode.SUBTRACT)
        with Locations((-29.074813, -20.181847)):
            Circle(F0_R, mode=Mode.SUBTRACT)
        with Locations((-18.493088, -11.7778)):
            Circle(F0_R, mode=Mode.SUBTRACT)
        with Locations((-65.759721, 5.551509)):
            Circle(F0_R, mode=Mode.SUBTRACT)
        with Locations((-76.039111, 12.807549)):
            Circle(F0_R, mode=Mode.SUBTRACT)
        with Locations((-85.772896, 20.472803)):
            Circle(F0_R, mode=Mode.SUBTRACT)
        with Locations((6.582568, 12.807549)):
            Circle(F0_R, mode=Mode.SUBTRACT)
        with Locations((-3.151217, 20.472803)):
            Circle(F0_R, mode=Mode.SUBTRACT)
        with Locations((27.443684, -2.913871)):
            Circle(F0_R, mode=Mode.SUBTRACT)
        with Locations((85.658279, -15.255337)):
            Circle(F0_R, mode=Mode.SUBTRACT)
        with Locations((92.589779, -4.409128)):
            Circle(F0_R, mode=Mode.SUBTRACT)
        with Locations((16.861959, 5.551509)):
            Circle(F0_R, mode=Mode.SUBTRACT)
        with Locations((99.94876, 7.078563)):
            Circle(F0_R, mode=Mode.SUBTRACT)
        with Locations((107.422, 18.251653)):
            Circle(F0_R, mode=Mode.SUBTRACT)
    extrude(amount=F3_DEPTH)

    # F4
    f4_openings = [f3.faces().sort_by_distance(p)[0] for p in [
        (-106.690376, -21.239486, 50.8),
        (124.730556, -21.239486, 50.8),
    ]]
    offset(amount=F4_T, openings=f4_openings)

    # F5 (on face) → F6 (cut)
    with BuildSketch(Plane(origin=(0, 29.560514, 0), x_dir=(-1, 0, 0), z_dir=(0, 1, 0))):
        Polygon((-49.331822, 99.06), (-124.730556, 99.06), (-124.730556, 2.54), (-124.730556, 0), (-49.331822, 0), align=None)
    extrude(amount=-F6_DEPTH, mode=Mode.SUBTRACT)


solid = Compound([f1.part, f3.part])
